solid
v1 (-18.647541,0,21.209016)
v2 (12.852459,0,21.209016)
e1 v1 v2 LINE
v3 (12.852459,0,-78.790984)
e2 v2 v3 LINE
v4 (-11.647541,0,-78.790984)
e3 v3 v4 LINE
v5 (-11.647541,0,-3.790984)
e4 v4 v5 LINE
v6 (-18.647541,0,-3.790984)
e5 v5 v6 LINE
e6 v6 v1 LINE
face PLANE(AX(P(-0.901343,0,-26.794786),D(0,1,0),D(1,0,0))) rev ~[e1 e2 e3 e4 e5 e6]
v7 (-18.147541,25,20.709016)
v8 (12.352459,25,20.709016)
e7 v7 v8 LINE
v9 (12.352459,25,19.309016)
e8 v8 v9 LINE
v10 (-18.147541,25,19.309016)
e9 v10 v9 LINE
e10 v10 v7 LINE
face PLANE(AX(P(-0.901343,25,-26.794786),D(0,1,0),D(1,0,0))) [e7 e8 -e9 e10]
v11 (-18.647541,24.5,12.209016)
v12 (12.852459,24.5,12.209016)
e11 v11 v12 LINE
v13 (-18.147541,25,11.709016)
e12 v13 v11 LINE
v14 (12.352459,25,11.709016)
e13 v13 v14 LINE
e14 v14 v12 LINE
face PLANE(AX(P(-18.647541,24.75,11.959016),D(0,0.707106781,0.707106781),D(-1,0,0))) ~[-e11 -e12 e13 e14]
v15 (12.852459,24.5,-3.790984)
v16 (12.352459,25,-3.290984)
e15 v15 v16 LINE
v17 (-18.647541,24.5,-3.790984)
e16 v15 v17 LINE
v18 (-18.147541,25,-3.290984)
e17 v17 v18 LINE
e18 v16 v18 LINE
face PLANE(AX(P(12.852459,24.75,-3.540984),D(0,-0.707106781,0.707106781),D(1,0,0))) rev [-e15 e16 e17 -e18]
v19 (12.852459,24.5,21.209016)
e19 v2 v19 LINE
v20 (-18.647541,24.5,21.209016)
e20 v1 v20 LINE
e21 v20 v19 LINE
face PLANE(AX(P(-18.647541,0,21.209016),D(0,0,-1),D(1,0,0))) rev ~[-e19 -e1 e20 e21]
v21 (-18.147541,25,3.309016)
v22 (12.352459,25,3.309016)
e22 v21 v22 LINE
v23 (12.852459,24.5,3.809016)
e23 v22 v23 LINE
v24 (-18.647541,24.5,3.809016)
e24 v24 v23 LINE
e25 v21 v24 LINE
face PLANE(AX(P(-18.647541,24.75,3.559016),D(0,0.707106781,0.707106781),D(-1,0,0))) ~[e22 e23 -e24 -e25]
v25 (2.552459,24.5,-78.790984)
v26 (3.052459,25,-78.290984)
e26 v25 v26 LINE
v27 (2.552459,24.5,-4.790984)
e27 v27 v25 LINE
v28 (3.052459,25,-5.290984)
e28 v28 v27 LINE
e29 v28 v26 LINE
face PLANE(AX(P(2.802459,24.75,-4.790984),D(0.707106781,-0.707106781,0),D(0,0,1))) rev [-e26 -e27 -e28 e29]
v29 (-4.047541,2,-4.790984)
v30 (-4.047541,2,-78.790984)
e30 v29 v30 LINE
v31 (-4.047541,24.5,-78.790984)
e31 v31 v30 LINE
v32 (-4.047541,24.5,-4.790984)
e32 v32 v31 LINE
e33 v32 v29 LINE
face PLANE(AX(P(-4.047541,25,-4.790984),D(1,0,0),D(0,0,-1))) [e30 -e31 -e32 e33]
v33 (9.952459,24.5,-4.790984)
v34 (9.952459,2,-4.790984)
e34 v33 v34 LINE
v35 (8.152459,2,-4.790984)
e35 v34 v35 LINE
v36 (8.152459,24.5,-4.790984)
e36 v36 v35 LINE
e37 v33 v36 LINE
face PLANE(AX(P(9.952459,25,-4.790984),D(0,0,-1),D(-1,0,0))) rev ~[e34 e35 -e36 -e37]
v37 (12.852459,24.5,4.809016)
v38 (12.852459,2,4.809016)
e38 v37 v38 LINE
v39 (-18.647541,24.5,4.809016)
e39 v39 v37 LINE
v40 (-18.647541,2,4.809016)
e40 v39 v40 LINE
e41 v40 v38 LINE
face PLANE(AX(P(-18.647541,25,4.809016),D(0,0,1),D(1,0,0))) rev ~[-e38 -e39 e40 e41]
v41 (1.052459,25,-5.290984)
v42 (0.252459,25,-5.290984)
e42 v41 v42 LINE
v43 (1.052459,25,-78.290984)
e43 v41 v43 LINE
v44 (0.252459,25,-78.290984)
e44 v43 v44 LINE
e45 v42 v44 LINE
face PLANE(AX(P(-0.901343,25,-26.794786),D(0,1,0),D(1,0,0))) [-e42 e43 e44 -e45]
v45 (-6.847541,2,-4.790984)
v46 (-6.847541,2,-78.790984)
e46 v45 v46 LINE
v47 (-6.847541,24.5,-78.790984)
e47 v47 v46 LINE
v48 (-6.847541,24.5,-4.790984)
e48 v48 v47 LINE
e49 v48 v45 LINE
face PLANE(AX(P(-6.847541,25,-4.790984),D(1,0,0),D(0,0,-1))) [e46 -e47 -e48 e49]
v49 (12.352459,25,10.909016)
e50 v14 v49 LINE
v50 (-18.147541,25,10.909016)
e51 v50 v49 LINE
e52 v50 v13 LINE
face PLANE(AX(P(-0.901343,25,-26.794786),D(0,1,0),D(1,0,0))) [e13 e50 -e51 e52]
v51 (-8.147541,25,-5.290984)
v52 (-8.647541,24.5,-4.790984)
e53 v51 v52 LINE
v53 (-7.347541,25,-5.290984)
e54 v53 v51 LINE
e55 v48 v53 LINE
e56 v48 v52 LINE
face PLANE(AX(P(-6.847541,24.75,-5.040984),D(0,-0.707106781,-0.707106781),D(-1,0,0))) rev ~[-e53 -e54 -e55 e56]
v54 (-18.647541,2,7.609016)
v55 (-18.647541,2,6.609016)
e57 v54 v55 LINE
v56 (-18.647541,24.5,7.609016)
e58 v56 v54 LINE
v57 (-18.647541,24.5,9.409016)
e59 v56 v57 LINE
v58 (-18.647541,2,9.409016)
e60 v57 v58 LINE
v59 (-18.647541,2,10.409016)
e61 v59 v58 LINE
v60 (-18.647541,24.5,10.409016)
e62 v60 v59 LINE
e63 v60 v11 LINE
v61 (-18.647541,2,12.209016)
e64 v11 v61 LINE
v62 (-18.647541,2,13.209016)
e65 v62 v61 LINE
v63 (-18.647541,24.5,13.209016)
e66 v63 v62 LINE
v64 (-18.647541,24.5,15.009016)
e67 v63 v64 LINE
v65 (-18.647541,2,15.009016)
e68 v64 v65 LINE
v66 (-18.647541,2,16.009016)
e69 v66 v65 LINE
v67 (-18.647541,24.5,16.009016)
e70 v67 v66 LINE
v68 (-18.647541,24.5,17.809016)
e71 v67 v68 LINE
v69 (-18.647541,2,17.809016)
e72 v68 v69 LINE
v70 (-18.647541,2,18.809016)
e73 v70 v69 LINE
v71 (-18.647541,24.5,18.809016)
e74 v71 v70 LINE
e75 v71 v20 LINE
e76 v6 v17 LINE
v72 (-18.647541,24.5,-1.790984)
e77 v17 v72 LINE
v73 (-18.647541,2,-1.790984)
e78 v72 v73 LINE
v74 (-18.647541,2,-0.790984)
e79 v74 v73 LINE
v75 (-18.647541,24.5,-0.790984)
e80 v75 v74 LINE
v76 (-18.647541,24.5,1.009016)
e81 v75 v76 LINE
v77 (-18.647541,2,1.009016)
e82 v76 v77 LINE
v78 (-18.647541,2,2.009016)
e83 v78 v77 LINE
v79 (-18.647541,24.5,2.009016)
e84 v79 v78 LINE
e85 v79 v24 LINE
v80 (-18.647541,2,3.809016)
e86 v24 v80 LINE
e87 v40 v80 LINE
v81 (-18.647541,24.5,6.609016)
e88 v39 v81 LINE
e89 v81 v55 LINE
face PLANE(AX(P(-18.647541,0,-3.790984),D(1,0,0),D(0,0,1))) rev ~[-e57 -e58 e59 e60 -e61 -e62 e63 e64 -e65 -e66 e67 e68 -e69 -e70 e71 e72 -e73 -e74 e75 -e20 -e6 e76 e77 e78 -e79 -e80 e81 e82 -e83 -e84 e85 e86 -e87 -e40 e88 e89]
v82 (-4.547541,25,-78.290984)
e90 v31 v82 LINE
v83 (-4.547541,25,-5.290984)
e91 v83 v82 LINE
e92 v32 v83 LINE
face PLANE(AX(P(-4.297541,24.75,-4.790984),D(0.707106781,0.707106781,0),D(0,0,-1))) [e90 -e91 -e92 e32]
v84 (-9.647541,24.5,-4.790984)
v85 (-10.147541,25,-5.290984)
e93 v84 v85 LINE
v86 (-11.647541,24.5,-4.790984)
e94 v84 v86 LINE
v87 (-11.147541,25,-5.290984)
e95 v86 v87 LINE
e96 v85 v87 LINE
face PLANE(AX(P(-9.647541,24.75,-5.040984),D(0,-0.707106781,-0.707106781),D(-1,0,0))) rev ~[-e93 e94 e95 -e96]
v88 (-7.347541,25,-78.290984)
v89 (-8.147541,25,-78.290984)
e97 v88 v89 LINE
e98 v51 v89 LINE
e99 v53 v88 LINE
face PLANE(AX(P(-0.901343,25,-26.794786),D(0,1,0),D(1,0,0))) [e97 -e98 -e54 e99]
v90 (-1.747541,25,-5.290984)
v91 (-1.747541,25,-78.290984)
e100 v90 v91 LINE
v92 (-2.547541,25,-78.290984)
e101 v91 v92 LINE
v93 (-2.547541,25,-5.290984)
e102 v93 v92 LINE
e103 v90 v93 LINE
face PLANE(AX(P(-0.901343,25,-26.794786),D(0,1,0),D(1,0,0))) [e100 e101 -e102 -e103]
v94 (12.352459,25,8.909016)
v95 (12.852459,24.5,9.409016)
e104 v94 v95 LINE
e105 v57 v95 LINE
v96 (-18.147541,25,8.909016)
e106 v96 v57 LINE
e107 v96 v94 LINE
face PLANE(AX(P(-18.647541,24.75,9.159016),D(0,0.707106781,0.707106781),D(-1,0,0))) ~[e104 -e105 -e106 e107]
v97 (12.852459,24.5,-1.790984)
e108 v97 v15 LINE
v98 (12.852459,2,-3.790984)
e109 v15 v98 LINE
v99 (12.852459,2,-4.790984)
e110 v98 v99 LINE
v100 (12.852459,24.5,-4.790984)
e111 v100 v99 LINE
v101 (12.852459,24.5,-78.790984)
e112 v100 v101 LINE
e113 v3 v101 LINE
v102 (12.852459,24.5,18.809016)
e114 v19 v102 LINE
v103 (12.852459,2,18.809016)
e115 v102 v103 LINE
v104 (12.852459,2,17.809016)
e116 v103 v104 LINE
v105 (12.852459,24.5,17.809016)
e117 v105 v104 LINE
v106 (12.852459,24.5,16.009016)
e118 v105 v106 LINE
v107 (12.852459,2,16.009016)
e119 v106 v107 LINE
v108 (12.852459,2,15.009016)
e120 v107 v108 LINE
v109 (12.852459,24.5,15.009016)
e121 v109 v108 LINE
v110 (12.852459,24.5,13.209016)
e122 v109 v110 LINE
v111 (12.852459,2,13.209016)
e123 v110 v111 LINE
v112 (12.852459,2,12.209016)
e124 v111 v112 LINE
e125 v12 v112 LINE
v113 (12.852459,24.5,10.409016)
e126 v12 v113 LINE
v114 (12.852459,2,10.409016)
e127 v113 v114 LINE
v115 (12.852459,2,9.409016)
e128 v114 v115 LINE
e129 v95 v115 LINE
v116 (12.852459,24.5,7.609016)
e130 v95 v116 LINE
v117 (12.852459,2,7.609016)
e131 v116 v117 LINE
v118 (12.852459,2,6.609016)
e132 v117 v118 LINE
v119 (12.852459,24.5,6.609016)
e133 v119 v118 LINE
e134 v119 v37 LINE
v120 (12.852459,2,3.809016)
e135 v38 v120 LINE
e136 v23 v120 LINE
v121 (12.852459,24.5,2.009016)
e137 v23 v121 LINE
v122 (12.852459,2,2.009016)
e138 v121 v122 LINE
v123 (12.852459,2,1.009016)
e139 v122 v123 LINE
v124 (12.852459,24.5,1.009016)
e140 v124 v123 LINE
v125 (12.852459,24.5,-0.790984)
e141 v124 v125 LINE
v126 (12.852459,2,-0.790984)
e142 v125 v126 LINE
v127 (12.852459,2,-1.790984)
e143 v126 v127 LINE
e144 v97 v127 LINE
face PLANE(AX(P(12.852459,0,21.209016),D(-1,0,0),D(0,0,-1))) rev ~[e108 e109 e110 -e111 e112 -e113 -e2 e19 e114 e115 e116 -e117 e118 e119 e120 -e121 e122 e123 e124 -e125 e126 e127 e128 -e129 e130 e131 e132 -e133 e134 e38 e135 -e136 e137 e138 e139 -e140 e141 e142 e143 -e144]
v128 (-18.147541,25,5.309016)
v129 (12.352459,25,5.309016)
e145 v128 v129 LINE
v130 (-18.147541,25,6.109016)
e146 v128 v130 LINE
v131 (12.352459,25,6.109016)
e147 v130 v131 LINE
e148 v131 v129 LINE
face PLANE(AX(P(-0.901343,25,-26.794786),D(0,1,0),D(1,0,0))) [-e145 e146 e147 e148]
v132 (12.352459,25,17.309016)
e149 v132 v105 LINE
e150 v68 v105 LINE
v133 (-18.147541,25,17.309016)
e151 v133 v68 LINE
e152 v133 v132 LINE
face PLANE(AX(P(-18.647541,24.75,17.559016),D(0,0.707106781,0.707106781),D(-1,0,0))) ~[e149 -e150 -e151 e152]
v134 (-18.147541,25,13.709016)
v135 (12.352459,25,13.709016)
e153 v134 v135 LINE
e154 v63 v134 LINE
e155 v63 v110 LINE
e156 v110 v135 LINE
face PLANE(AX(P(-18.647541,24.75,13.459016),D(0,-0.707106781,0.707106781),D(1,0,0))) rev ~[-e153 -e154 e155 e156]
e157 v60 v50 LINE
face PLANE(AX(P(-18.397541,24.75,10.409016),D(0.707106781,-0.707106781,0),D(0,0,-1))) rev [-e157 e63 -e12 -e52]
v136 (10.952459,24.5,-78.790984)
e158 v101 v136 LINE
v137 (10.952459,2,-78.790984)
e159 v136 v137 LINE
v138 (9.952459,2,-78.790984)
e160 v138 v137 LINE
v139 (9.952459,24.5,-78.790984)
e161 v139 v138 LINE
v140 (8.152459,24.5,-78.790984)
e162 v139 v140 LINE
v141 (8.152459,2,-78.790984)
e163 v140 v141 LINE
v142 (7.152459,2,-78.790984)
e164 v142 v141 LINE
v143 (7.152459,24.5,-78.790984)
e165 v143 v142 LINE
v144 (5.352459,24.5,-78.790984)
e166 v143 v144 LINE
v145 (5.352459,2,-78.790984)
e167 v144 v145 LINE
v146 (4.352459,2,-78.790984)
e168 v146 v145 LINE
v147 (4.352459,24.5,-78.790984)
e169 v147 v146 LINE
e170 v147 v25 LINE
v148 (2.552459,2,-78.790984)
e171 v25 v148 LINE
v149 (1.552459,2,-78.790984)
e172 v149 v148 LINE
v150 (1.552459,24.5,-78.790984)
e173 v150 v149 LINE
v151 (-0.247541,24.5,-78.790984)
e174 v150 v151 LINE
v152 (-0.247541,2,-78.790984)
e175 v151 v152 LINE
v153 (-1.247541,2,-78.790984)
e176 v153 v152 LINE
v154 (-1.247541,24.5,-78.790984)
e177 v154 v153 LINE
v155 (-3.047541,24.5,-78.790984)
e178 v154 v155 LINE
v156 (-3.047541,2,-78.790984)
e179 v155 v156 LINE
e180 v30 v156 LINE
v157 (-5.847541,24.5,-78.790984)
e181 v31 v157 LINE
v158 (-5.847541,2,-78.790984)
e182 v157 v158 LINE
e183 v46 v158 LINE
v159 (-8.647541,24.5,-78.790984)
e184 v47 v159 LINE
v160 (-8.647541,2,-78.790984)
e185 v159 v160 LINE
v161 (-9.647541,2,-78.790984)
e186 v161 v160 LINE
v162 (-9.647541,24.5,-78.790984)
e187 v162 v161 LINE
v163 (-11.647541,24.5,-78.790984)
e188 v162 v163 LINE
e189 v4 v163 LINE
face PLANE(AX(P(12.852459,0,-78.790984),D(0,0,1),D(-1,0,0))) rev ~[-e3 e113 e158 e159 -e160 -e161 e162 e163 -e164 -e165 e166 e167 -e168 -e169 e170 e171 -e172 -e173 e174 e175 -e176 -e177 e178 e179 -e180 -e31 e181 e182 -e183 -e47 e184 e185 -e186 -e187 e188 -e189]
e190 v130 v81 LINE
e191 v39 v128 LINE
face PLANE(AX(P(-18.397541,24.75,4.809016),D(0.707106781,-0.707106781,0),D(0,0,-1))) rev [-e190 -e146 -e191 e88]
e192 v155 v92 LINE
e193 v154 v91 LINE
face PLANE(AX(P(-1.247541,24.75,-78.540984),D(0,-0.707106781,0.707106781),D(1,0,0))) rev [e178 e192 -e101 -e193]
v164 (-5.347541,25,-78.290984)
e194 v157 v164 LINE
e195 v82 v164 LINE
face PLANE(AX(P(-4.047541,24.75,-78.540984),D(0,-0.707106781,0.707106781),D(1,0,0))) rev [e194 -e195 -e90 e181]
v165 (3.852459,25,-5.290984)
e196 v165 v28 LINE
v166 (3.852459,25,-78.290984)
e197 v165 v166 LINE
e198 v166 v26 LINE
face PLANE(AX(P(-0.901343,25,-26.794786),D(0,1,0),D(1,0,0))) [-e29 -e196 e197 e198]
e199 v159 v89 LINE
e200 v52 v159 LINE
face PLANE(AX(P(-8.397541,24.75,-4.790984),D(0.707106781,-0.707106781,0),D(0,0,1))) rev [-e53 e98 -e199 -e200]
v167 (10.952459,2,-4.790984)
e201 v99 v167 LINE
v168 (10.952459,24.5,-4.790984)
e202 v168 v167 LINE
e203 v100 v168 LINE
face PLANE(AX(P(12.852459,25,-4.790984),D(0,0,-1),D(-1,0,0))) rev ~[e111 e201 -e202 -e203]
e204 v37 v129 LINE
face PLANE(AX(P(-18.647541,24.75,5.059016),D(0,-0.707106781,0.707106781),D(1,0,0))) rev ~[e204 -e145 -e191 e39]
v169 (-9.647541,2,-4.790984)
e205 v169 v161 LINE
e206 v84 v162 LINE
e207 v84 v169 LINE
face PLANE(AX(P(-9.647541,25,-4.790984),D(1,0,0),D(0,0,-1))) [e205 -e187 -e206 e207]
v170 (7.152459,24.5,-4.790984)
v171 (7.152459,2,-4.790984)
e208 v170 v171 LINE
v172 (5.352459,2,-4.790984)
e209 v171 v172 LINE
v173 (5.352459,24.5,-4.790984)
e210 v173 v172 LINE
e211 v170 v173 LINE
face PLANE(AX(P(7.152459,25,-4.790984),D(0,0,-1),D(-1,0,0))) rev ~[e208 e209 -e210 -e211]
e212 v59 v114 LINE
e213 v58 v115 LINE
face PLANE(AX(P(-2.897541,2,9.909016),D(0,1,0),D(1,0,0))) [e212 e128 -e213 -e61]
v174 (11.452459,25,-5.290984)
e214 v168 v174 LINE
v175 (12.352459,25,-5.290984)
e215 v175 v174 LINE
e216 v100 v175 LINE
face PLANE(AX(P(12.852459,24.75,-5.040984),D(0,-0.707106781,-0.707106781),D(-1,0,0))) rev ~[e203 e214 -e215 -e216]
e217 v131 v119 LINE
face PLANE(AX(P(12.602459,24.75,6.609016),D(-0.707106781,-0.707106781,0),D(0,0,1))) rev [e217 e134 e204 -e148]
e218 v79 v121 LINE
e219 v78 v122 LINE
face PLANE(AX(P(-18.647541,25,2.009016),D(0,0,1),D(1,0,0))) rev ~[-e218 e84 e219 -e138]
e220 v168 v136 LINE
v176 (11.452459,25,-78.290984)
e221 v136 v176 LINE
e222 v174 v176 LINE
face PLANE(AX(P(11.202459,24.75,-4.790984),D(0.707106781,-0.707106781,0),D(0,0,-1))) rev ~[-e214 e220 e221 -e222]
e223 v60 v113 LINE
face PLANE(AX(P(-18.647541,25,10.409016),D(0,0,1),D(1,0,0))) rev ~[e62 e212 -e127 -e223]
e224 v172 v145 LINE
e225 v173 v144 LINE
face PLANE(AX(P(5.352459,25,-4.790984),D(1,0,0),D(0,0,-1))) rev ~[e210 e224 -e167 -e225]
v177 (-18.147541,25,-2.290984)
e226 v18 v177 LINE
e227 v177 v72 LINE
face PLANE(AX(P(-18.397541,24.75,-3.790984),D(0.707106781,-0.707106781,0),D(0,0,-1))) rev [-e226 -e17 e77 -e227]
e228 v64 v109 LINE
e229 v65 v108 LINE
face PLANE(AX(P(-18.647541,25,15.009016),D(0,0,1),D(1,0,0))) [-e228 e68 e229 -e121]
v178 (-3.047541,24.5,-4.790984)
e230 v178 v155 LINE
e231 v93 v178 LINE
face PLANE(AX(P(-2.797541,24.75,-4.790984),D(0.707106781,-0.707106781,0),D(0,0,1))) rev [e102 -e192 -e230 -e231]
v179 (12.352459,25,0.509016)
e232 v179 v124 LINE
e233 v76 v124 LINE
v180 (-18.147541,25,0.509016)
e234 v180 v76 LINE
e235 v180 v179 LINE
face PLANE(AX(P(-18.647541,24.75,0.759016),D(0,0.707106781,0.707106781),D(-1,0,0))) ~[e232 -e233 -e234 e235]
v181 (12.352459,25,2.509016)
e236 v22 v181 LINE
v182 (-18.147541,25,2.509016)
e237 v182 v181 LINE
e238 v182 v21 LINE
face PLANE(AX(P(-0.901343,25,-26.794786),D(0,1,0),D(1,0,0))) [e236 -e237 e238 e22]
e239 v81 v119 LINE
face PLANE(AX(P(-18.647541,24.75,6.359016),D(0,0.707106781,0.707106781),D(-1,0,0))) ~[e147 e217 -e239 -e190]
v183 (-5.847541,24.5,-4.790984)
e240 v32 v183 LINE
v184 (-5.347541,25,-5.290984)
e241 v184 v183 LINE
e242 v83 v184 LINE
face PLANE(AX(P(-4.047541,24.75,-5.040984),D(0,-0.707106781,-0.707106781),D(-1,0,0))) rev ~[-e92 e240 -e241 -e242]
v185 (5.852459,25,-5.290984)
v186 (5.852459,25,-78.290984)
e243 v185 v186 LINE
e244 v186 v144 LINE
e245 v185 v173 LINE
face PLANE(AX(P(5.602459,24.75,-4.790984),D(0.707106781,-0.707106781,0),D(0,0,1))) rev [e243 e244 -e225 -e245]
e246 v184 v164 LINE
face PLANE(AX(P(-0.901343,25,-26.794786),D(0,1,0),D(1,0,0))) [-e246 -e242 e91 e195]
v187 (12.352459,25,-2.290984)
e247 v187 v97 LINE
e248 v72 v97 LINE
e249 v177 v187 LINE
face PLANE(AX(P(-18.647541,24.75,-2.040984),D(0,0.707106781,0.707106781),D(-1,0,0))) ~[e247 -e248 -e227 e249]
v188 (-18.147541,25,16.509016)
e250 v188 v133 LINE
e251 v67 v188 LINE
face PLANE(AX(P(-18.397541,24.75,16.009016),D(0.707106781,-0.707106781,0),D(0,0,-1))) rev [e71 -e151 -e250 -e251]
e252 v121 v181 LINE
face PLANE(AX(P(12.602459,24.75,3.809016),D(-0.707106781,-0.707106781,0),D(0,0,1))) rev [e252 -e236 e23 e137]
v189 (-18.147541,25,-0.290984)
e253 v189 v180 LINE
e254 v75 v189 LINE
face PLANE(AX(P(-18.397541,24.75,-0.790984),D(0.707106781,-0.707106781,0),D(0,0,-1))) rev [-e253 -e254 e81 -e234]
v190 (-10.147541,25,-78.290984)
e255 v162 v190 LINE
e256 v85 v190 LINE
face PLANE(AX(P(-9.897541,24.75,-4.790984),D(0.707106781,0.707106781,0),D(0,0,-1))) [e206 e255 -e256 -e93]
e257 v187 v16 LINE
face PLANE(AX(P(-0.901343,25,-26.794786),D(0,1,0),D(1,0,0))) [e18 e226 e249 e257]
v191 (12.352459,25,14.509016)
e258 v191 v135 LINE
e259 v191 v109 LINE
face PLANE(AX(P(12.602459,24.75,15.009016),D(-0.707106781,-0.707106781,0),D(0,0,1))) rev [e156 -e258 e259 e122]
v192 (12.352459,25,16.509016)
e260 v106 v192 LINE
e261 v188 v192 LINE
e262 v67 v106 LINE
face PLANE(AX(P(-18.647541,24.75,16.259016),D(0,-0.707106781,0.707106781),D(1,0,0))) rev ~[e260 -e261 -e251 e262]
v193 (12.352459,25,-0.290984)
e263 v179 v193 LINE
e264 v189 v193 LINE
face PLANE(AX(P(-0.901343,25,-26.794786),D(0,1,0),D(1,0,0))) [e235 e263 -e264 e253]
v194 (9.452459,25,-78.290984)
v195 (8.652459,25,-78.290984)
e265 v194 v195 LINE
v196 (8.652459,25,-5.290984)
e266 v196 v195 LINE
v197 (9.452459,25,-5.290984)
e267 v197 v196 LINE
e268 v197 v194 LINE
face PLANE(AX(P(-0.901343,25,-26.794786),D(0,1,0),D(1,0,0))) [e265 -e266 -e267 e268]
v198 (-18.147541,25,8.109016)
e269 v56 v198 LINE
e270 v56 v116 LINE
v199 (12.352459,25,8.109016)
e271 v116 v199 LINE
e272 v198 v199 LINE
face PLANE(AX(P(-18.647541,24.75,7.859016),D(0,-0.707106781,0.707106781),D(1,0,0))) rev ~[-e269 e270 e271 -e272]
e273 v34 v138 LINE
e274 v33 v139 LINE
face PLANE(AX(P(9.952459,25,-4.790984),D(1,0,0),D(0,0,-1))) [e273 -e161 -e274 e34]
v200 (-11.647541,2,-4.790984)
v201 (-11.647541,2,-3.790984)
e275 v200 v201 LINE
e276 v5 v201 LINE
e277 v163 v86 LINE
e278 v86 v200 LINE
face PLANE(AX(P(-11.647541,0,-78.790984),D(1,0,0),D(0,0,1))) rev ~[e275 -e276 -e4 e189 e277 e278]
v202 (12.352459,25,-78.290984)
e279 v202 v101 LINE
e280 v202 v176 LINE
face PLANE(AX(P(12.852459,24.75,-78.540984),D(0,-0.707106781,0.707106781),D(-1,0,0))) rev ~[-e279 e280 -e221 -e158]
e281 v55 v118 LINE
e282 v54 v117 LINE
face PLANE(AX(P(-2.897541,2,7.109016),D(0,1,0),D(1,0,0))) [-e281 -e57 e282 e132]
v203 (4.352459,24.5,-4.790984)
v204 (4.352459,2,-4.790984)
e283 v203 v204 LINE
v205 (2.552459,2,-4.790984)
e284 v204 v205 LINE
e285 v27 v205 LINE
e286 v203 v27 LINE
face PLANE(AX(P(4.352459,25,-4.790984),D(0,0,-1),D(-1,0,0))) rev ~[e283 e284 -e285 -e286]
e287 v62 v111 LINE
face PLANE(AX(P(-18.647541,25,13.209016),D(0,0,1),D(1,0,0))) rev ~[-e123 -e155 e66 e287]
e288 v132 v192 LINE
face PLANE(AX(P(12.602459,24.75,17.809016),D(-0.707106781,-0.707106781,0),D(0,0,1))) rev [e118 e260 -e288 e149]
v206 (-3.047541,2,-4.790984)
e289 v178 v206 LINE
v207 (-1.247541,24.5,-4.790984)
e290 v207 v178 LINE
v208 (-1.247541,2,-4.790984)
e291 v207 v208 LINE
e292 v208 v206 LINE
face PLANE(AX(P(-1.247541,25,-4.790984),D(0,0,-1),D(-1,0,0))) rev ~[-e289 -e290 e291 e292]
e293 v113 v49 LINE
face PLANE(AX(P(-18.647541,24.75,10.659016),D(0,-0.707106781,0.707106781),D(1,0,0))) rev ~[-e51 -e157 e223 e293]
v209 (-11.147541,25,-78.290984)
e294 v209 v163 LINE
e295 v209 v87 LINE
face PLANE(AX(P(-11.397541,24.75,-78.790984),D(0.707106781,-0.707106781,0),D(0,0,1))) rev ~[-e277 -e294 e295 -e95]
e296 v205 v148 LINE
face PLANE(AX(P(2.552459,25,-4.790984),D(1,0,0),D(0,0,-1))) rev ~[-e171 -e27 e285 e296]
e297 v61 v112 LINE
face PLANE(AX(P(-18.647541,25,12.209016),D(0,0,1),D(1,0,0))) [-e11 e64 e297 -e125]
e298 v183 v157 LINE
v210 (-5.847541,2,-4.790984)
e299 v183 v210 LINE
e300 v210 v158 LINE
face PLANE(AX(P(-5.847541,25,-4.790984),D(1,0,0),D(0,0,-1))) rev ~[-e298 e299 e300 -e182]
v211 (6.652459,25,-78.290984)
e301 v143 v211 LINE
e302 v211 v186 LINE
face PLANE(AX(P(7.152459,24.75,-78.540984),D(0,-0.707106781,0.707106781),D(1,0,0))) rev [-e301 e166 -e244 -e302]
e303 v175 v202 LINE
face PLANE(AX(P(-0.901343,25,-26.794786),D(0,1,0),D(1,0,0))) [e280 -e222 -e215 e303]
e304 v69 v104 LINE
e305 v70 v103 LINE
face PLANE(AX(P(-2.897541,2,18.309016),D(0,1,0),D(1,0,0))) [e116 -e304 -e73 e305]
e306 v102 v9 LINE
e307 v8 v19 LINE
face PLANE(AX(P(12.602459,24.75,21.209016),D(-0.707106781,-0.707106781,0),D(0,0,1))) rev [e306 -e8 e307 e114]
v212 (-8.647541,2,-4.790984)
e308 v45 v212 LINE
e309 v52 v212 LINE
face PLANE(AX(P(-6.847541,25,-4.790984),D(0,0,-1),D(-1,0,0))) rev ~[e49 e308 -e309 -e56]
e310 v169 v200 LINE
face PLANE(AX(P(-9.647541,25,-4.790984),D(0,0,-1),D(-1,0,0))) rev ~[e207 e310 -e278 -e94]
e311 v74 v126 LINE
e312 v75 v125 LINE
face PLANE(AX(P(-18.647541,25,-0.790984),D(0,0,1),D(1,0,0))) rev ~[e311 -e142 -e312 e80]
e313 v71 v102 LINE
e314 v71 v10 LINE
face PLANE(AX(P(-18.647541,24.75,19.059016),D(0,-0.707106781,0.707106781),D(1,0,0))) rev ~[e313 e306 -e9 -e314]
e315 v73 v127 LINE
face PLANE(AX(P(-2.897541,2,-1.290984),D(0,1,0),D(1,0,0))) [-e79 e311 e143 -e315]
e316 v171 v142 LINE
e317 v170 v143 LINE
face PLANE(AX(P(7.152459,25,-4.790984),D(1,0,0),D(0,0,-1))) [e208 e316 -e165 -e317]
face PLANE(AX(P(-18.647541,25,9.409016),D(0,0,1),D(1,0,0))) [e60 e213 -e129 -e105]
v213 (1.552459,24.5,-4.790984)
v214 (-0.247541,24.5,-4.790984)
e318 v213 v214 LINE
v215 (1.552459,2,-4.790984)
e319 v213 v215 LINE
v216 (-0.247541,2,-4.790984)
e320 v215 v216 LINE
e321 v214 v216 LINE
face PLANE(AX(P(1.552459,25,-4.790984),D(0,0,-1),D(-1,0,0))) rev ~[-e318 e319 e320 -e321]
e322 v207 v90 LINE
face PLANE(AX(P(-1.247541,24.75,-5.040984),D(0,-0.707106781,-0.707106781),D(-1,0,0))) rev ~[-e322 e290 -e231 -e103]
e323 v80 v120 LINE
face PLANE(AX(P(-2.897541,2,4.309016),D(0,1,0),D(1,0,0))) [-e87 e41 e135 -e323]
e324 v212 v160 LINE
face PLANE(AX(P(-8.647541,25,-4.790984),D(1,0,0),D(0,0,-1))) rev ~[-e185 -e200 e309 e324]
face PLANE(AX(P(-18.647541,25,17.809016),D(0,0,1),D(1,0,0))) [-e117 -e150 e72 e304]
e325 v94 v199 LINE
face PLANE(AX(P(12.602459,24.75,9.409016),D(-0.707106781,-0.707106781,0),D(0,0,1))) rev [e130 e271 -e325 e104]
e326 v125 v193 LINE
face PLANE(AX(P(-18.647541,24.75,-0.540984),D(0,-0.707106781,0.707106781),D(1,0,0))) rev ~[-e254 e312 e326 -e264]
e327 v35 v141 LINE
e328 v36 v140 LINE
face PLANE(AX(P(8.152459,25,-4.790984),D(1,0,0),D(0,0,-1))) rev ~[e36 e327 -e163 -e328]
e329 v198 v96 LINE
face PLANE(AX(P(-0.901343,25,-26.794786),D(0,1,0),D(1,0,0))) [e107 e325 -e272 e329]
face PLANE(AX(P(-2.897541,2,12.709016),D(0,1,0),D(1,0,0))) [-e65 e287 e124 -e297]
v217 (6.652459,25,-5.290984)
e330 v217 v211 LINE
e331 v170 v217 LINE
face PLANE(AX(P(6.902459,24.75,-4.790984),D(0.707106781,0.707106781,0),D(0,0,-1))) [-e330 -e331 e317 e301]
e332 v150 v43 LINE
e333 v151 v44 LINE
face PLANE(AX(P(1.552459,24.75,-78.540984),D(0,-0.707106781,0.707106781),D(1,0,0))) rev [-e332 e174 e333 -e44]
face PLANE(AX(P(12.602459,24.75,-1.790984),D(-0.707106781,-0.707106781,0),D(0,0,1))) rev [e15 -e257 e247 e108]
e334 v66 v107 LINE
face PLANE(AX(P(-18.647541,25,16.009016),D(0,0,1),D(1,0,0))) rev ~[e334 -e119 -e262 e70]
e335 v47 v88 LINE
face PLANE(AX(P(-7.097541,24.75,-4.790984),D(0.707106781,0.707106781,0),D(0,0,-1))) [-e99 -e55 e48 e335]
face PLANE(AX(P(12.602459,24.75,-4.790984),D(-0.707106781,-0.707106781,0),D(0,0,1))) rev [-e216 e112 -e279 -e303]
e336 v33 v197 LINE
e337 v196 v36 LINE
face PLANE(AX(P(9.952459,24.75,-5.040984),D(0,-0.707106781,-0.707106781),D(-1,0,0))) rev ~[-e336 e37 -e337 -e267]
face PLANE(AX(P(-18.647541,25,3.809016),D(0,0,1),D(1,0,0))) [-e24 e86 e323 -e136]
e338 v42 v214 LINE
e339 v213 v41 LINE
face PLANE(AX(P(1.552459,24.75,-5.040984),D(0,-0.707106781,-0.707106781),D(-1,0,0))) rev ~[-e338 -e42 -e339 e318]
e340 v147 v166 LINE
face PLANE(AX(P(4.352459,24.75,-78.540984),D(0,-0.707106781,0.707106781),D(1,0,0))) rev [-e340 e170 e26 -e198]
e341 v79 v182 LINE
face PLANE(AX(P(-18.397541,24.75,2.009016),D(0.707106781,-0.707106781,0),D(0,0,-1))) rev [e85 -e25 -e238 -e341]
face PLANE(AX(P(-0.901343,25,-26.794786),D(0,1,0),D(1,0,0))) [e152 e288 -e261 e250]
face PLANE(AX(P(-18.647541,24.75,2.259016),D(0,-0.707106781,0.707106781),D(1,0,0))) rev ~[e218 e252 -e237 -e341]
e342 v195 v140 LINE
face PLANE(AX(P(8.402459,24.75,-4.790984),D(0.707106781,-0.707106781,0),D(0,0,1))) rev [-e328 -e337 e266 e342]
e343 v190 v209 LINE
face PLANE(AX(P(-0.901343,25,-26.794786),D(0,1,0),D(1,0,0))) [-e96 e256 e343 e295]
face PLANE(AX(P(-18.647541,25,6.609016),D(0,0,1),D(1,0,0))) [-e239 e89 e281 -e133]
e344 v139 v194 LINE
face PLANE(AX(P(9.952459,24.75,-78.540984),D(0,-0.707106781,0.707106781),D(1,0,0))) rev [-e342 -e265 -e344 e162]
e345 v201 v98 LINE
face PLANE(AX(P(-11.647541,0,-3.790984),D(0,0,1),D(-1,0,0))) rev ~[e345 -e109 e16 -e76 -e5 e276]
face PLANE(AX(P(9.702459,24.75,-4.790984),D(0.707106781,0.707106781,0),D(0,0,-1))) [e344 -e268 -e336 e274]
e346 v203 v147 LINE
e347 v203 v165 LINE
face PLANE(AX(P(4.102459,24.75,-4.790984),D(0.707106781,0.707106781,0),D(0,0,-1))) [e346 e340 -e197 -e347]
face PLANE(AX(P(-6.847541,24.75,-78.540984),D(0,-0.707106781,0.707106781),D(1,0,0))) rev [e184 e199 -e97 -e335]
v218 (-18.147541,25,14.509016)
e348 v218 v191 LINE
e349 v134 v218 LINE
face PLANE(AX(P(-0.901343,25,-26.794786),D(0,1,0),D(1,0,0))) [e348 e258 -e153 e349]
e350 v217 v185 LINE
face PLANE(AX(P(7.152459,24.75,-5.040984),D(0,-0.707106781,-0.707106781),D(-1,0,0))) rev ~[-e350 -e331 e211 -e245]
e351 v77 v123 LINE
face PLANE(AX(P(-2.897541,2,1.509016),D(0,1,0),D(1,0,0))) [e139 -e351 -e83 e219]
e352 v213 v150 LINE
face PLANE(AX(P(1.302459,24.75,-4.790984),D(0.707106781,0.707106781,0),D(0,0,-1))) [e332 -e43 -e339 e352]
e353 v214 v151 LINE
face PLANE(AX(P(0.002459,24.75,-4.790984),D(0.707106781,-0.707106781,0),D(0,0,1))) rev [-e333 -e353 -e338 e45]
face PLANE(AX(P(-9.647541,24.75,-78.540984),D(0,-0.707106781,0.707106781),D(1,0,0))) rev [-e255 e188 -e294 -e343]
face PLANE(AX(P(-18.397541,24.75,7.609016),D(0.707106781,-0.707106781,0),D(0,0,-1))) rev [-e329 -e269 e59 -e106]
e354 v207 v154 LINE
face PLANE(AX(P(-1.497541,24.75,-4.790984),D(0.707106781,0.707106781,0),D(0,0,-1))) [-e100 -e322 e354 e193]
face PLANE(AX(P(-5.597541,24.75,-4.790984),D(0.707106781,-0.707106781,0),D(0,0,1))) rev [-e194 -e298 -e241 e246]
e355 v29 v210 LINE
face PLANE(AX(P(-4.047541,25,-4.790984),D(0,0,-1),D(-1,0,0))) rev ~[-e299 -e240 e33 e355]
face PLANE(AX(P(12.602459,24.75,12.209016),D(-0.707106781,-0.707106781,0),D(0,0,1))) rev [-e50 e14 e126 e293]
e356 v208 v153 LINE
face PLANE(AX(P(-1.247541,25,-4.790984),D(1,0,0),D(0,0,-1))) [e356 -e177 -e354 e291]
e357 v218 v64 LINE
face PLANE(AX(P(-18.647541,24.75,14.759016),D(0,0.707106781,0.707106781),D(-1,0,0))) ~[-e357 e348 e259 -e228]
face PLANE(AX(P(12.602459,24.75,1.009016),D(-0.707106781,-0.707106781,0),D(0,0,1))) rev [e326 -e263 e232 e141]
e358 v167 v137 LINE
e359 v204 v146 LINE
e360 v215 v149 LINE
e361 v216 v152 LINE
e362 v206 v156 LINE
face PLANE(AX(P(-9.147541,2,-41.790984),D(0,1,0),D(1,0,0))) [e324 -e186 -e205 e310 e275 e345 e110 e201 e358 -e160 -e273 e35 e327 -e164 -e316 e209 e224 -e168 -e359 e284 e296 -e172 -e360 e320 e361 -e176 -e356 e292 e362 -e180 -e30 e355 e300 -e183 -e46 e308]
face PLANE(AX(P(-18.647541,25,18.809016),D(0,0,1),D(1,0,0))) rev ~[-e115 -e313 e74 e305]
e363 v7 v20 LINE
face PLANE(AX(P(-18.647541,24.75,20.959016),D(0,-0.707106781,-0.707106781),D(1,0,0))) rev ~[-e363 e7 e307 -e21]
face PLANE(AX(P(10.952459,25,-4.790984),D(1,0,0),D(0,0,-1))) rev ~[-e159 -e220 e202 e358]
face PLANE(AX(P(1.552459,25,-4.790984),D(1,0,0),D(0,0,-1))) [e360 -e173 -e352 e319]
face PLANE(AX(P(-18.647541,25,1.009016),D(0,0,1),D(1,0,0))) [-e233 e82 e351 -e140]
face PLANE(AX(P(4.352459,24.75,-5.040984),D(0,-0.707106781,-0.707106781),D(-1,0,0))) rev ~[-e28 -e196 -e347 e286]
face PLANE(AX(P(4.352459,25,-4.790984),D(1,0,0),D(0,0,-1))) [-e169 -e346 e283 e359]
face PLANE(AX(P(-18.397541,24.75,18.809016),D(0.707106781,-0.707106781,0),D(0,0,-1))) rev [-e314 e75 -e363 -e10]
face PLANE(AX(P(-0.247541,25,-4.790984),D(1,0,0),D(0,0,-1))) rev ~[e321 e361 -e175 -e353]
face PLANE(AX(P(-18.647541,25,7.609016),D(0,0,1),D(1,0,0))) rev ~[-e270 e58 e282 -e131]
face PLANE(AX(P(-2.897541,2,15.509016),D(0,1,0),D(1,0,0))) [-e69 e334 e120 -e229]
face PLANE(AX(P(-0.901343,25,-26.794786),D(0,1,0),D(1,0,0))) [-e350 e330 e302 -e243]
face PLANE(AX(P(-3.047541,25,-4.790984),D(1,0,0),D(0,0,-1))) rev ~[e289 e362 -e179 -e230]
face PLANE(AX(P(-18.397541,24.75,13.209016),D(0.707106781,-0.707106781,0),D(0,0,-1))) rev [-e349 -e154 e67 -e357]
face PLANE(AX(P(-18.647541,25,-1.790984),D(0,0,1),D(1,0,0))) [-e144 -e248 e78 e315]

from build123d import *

# Parameters (mm, degrees)
BOSS_EXTRUDE1_DEPTH = 25
SKETCH2_W           = 1
SKETCH2_H           = 74
SKETCH2_W_2         = 31.5
SKETCH2_H_2         = 1
CUT_EXTRUDE1_DEPTH  = 23
CHAMFER1_SIZE       = 0.5


with BuildPart() as part:
    # Sketch1 → Boss-Extrude1 (new body)
    with BuildSketch(Plane(origin=(0, 0, 0), x_dir=(1, 0, 0), z_dir=(0, 1, 0))):
        Polygon((-18.647540984, 3.790983607), (-18.647540984, -21.209016393), (12.852459016, -21.209016393), (12.852459016, 78.790983607), (-11.647540984, 78.790983607), (-11.647540984, 3.790983607), align=None)
    extrude(amount=BOSS_EXTRUDE1_DEPTH)

    # Sketch2 → Cut-Extrude1 (cut)
    with BuildSketch(Plane(origin=(0, 25, 0), x_dir=(1, 0, 0), z_dir=(0, 1, 0))):
        with Locations((-9.147540984, 41.790983607)):
            Rectangle(SKETCH2_W, SKETCH2_H)
        with Locations((-6.347540984, 41.790983607)):
            Rectangle(SKETCH2_W, SKETCH2_H)
        with Locations((-3.547540984, 41.790983607)):
            Rectangle(SKETCH2_W, SKETCH2_H)
        with Locations((-0.747540984, 41.790983607)):
            Rectangle(SKETCH2_W, SKETCH2_H)
        with Locations((2.052459016, 41.790983607)):
            Rectangle(SKETCH2_W, SKETCH2_H)
        with Locations((4.852459016, 41.790983607)):
            Rectangle(SKETCH2_W, SKETCH2_H)
        with Locations((7.652459016, 41.790983607)):
            Rectangle(SKETCH2_W, SKETCH2_H)
        with Locations((10.452459016, 41.790983607)):
            Rectangle(SKETCH2_W, SKETCH2_H)
        Polygon((-11.647540984, 4.790983607), (-11.647540984, 3.790983607), (12.852459016, 3.790983607), (12.852459016, 4.790983607), (10.952459016, 4.790983607), (9.952459016, 4.790983607), (8.152459016, 4.790983607), (7.152459016, 4.790983607), (5.352459016, 4.790983607), (4.352459016, 4.790983607), (2.552459016, 4.790983607), (1.552459016, 4.790983607), (-0.247540984, 4.790983607), (-1.247540984, 4.790983607), (-3.047540984, 4.790983607), (-4.047540984, 4.790983607), (-5.847540984, 4.790983607), (-6.847540984, 4.790983607), (-8.647540984, 4.790983607), (-9.647540984, 4.790983607), align=None)
        with Locations((-2.897540984, 1.290983607)):
            Rectangle(SKETCH2_W_2, SKETCH2_H_2)
        with Locations((-2.897540984, -1.509016393)):
            Rectangle(SKETCH2_W_2, SKETCH2_H_2)
        with Locations((-2.897540984, -4.309016393)):
            Rectangle(SKETCH2_W_2, SKETCH2_H_2)
        with Locations((-2.897540984, -7.109016393)):
            Rectangle(SKETCH2_W_2, SKETCH2_H_2)
        with Locations((-2.897540984, -9.909016393)):
            Rectangle(SKETCH2_W_2, SKETCH2_H_2)
        with Locations((-2.897540984, -18.309016393)):
            Rectangle(SKETCH2_W_2, SKETCH2_H_2)
        with Locations((-2.897540984, -15.509016393)):
            Rectangle(SKETCH2_W_2, SKETCH2_H_2)
        with Locations((-2.897540984, -12.709016393)):
            Rectangle(SKETCH2_W_2, SKETCH2_H_2)
    extrude(amount=-CUT_EXTRUDE1_DEPTH, mode=Mode.SUBTRACT)

    # Chamfer1
    chamfer1_edges = [part.edges().sort_by_distance(p)[0] for p in [
        (5.352459016, 25, -41.790983607),
        (6.252459016, 25, -4.790983607),
        (8.152459016, 25, -41.790983607),
        (9.052459016, 25, -4.790983607),
        (10.952459016, 25, -41.790983607),
        (11.902459016, 25, -4.790983607),
        (-10.647540984, 25, -4.790983607),
        (-9.647540984, 25, -41.790983607),
        (9.952459016, 25, -41.790983607),
        (7.152459016, 25, -41.790983607),
        (4.352459016, 25, -41.790983607),
        (1.552459016, 25, -41.790983607),
        (-1.247540984, 25, -41.790983607),
        (-4.047540984, 25, -41.790983607),
        (-2.897540984, 25, 21.209016393),
        (-6.847540984, 25, -41.790983607),
        (-2.897540984, 25, -1.790983607),
        (-2.897540984, 25, -0.790983607),
        (12.852459016, 25, 20.009016393),
        (-2.897540984, 25, 1.009016393),
        (-2.897540984, 25, 2.009016393),
        (-2.897540984, 25, 3.809016393),
        (-2.897540984, 25, 4.809016393),
        (-2.897540984, 25, 6.609016393),
        (-2.897540984, 25, 7.609016393),
        (-2.897540984, 25, 12.209016393),
        (-2.897540984, 25, 13.209016393),
        (-18.647540984, 25, 0.109016393),
        (-2.897540984, 25, 15.009016393),
        (-2.897540984, 25, 16.009016393),
        (-18.647540984, 25, 2.909016393),
        (-2.897540984, 25, 17.809016393),
        (-2.897540984, 25, 18.809016393),
        (-18.647540984, 25, 5.709016393),
        (-2.897540984, 25, 9.409016393),
        (11.902459016, 25, -78.790983607),
        (-2.897540984, 25, 10.409016393),
        (-18.647540984, 25, 8.509016393),
        (-18.647540984, 25, 11.309016393),
        (-18.647540984, 25, 14.109016393),
        (-18.647540984, 25, 16.909016393),
        (-18.647540984, 25, 20.009016393),
        (12.852459016, 25, 16.909016393),
        (12.852459016, 25, 14.109016393),
        (-11.647540984, 25, -41.790983607),
        (12.852459016, 25, 11.309016393),
        (12.852459016, 25, 8.509016393),
        (12.852459016, 25, 5.709016393),
        (12.852459016, 25, 2.909016393),
        (12.852459016, 25, 0.109016393),
        (12.852459016, 25, -2.790983607),
        (12.852459016, 25, -41.790983607),
        (9.052459016, 25, -78.790983607),
        (6.252459016, 25, -78.790983607),
        (3.452459016, 25, -78.790983607),
        (0.652459016, 25, -78.790983607),
        (-2.147540984, 25, -78.790983607),
        (-4.947540984, 25, -78.790983607),
        (-7.747540984, 25, -78.790983607),
        (-10.647540984, 25, -78.790983607),
        (-2.897540984, 25, -3.790983607),
        (-8.647540984, 25, -41.790983607),
        (-7.747540984, 25, -4.790983607),
        (-18.647540984, 25, -2.790983607),
        (-5.847540984, 25, -41.790983607),
        (-4.947540984, 25, -4.790983607),
        (-3.047540984, 25, -41.790983607),
        (-2.147540984, 25, -4.790983607),
        (-0.247540984, 25, -41.790983607),
        (0.652459016, 25, -4.790983607),
        (2.552459016, 25, -41.790983607),
        (3.452459016, 25, -4.790983607),
    ]]
    chamfer(chamfer1_edges, length=CHAMFER1_SIZE)


solid = part.part
